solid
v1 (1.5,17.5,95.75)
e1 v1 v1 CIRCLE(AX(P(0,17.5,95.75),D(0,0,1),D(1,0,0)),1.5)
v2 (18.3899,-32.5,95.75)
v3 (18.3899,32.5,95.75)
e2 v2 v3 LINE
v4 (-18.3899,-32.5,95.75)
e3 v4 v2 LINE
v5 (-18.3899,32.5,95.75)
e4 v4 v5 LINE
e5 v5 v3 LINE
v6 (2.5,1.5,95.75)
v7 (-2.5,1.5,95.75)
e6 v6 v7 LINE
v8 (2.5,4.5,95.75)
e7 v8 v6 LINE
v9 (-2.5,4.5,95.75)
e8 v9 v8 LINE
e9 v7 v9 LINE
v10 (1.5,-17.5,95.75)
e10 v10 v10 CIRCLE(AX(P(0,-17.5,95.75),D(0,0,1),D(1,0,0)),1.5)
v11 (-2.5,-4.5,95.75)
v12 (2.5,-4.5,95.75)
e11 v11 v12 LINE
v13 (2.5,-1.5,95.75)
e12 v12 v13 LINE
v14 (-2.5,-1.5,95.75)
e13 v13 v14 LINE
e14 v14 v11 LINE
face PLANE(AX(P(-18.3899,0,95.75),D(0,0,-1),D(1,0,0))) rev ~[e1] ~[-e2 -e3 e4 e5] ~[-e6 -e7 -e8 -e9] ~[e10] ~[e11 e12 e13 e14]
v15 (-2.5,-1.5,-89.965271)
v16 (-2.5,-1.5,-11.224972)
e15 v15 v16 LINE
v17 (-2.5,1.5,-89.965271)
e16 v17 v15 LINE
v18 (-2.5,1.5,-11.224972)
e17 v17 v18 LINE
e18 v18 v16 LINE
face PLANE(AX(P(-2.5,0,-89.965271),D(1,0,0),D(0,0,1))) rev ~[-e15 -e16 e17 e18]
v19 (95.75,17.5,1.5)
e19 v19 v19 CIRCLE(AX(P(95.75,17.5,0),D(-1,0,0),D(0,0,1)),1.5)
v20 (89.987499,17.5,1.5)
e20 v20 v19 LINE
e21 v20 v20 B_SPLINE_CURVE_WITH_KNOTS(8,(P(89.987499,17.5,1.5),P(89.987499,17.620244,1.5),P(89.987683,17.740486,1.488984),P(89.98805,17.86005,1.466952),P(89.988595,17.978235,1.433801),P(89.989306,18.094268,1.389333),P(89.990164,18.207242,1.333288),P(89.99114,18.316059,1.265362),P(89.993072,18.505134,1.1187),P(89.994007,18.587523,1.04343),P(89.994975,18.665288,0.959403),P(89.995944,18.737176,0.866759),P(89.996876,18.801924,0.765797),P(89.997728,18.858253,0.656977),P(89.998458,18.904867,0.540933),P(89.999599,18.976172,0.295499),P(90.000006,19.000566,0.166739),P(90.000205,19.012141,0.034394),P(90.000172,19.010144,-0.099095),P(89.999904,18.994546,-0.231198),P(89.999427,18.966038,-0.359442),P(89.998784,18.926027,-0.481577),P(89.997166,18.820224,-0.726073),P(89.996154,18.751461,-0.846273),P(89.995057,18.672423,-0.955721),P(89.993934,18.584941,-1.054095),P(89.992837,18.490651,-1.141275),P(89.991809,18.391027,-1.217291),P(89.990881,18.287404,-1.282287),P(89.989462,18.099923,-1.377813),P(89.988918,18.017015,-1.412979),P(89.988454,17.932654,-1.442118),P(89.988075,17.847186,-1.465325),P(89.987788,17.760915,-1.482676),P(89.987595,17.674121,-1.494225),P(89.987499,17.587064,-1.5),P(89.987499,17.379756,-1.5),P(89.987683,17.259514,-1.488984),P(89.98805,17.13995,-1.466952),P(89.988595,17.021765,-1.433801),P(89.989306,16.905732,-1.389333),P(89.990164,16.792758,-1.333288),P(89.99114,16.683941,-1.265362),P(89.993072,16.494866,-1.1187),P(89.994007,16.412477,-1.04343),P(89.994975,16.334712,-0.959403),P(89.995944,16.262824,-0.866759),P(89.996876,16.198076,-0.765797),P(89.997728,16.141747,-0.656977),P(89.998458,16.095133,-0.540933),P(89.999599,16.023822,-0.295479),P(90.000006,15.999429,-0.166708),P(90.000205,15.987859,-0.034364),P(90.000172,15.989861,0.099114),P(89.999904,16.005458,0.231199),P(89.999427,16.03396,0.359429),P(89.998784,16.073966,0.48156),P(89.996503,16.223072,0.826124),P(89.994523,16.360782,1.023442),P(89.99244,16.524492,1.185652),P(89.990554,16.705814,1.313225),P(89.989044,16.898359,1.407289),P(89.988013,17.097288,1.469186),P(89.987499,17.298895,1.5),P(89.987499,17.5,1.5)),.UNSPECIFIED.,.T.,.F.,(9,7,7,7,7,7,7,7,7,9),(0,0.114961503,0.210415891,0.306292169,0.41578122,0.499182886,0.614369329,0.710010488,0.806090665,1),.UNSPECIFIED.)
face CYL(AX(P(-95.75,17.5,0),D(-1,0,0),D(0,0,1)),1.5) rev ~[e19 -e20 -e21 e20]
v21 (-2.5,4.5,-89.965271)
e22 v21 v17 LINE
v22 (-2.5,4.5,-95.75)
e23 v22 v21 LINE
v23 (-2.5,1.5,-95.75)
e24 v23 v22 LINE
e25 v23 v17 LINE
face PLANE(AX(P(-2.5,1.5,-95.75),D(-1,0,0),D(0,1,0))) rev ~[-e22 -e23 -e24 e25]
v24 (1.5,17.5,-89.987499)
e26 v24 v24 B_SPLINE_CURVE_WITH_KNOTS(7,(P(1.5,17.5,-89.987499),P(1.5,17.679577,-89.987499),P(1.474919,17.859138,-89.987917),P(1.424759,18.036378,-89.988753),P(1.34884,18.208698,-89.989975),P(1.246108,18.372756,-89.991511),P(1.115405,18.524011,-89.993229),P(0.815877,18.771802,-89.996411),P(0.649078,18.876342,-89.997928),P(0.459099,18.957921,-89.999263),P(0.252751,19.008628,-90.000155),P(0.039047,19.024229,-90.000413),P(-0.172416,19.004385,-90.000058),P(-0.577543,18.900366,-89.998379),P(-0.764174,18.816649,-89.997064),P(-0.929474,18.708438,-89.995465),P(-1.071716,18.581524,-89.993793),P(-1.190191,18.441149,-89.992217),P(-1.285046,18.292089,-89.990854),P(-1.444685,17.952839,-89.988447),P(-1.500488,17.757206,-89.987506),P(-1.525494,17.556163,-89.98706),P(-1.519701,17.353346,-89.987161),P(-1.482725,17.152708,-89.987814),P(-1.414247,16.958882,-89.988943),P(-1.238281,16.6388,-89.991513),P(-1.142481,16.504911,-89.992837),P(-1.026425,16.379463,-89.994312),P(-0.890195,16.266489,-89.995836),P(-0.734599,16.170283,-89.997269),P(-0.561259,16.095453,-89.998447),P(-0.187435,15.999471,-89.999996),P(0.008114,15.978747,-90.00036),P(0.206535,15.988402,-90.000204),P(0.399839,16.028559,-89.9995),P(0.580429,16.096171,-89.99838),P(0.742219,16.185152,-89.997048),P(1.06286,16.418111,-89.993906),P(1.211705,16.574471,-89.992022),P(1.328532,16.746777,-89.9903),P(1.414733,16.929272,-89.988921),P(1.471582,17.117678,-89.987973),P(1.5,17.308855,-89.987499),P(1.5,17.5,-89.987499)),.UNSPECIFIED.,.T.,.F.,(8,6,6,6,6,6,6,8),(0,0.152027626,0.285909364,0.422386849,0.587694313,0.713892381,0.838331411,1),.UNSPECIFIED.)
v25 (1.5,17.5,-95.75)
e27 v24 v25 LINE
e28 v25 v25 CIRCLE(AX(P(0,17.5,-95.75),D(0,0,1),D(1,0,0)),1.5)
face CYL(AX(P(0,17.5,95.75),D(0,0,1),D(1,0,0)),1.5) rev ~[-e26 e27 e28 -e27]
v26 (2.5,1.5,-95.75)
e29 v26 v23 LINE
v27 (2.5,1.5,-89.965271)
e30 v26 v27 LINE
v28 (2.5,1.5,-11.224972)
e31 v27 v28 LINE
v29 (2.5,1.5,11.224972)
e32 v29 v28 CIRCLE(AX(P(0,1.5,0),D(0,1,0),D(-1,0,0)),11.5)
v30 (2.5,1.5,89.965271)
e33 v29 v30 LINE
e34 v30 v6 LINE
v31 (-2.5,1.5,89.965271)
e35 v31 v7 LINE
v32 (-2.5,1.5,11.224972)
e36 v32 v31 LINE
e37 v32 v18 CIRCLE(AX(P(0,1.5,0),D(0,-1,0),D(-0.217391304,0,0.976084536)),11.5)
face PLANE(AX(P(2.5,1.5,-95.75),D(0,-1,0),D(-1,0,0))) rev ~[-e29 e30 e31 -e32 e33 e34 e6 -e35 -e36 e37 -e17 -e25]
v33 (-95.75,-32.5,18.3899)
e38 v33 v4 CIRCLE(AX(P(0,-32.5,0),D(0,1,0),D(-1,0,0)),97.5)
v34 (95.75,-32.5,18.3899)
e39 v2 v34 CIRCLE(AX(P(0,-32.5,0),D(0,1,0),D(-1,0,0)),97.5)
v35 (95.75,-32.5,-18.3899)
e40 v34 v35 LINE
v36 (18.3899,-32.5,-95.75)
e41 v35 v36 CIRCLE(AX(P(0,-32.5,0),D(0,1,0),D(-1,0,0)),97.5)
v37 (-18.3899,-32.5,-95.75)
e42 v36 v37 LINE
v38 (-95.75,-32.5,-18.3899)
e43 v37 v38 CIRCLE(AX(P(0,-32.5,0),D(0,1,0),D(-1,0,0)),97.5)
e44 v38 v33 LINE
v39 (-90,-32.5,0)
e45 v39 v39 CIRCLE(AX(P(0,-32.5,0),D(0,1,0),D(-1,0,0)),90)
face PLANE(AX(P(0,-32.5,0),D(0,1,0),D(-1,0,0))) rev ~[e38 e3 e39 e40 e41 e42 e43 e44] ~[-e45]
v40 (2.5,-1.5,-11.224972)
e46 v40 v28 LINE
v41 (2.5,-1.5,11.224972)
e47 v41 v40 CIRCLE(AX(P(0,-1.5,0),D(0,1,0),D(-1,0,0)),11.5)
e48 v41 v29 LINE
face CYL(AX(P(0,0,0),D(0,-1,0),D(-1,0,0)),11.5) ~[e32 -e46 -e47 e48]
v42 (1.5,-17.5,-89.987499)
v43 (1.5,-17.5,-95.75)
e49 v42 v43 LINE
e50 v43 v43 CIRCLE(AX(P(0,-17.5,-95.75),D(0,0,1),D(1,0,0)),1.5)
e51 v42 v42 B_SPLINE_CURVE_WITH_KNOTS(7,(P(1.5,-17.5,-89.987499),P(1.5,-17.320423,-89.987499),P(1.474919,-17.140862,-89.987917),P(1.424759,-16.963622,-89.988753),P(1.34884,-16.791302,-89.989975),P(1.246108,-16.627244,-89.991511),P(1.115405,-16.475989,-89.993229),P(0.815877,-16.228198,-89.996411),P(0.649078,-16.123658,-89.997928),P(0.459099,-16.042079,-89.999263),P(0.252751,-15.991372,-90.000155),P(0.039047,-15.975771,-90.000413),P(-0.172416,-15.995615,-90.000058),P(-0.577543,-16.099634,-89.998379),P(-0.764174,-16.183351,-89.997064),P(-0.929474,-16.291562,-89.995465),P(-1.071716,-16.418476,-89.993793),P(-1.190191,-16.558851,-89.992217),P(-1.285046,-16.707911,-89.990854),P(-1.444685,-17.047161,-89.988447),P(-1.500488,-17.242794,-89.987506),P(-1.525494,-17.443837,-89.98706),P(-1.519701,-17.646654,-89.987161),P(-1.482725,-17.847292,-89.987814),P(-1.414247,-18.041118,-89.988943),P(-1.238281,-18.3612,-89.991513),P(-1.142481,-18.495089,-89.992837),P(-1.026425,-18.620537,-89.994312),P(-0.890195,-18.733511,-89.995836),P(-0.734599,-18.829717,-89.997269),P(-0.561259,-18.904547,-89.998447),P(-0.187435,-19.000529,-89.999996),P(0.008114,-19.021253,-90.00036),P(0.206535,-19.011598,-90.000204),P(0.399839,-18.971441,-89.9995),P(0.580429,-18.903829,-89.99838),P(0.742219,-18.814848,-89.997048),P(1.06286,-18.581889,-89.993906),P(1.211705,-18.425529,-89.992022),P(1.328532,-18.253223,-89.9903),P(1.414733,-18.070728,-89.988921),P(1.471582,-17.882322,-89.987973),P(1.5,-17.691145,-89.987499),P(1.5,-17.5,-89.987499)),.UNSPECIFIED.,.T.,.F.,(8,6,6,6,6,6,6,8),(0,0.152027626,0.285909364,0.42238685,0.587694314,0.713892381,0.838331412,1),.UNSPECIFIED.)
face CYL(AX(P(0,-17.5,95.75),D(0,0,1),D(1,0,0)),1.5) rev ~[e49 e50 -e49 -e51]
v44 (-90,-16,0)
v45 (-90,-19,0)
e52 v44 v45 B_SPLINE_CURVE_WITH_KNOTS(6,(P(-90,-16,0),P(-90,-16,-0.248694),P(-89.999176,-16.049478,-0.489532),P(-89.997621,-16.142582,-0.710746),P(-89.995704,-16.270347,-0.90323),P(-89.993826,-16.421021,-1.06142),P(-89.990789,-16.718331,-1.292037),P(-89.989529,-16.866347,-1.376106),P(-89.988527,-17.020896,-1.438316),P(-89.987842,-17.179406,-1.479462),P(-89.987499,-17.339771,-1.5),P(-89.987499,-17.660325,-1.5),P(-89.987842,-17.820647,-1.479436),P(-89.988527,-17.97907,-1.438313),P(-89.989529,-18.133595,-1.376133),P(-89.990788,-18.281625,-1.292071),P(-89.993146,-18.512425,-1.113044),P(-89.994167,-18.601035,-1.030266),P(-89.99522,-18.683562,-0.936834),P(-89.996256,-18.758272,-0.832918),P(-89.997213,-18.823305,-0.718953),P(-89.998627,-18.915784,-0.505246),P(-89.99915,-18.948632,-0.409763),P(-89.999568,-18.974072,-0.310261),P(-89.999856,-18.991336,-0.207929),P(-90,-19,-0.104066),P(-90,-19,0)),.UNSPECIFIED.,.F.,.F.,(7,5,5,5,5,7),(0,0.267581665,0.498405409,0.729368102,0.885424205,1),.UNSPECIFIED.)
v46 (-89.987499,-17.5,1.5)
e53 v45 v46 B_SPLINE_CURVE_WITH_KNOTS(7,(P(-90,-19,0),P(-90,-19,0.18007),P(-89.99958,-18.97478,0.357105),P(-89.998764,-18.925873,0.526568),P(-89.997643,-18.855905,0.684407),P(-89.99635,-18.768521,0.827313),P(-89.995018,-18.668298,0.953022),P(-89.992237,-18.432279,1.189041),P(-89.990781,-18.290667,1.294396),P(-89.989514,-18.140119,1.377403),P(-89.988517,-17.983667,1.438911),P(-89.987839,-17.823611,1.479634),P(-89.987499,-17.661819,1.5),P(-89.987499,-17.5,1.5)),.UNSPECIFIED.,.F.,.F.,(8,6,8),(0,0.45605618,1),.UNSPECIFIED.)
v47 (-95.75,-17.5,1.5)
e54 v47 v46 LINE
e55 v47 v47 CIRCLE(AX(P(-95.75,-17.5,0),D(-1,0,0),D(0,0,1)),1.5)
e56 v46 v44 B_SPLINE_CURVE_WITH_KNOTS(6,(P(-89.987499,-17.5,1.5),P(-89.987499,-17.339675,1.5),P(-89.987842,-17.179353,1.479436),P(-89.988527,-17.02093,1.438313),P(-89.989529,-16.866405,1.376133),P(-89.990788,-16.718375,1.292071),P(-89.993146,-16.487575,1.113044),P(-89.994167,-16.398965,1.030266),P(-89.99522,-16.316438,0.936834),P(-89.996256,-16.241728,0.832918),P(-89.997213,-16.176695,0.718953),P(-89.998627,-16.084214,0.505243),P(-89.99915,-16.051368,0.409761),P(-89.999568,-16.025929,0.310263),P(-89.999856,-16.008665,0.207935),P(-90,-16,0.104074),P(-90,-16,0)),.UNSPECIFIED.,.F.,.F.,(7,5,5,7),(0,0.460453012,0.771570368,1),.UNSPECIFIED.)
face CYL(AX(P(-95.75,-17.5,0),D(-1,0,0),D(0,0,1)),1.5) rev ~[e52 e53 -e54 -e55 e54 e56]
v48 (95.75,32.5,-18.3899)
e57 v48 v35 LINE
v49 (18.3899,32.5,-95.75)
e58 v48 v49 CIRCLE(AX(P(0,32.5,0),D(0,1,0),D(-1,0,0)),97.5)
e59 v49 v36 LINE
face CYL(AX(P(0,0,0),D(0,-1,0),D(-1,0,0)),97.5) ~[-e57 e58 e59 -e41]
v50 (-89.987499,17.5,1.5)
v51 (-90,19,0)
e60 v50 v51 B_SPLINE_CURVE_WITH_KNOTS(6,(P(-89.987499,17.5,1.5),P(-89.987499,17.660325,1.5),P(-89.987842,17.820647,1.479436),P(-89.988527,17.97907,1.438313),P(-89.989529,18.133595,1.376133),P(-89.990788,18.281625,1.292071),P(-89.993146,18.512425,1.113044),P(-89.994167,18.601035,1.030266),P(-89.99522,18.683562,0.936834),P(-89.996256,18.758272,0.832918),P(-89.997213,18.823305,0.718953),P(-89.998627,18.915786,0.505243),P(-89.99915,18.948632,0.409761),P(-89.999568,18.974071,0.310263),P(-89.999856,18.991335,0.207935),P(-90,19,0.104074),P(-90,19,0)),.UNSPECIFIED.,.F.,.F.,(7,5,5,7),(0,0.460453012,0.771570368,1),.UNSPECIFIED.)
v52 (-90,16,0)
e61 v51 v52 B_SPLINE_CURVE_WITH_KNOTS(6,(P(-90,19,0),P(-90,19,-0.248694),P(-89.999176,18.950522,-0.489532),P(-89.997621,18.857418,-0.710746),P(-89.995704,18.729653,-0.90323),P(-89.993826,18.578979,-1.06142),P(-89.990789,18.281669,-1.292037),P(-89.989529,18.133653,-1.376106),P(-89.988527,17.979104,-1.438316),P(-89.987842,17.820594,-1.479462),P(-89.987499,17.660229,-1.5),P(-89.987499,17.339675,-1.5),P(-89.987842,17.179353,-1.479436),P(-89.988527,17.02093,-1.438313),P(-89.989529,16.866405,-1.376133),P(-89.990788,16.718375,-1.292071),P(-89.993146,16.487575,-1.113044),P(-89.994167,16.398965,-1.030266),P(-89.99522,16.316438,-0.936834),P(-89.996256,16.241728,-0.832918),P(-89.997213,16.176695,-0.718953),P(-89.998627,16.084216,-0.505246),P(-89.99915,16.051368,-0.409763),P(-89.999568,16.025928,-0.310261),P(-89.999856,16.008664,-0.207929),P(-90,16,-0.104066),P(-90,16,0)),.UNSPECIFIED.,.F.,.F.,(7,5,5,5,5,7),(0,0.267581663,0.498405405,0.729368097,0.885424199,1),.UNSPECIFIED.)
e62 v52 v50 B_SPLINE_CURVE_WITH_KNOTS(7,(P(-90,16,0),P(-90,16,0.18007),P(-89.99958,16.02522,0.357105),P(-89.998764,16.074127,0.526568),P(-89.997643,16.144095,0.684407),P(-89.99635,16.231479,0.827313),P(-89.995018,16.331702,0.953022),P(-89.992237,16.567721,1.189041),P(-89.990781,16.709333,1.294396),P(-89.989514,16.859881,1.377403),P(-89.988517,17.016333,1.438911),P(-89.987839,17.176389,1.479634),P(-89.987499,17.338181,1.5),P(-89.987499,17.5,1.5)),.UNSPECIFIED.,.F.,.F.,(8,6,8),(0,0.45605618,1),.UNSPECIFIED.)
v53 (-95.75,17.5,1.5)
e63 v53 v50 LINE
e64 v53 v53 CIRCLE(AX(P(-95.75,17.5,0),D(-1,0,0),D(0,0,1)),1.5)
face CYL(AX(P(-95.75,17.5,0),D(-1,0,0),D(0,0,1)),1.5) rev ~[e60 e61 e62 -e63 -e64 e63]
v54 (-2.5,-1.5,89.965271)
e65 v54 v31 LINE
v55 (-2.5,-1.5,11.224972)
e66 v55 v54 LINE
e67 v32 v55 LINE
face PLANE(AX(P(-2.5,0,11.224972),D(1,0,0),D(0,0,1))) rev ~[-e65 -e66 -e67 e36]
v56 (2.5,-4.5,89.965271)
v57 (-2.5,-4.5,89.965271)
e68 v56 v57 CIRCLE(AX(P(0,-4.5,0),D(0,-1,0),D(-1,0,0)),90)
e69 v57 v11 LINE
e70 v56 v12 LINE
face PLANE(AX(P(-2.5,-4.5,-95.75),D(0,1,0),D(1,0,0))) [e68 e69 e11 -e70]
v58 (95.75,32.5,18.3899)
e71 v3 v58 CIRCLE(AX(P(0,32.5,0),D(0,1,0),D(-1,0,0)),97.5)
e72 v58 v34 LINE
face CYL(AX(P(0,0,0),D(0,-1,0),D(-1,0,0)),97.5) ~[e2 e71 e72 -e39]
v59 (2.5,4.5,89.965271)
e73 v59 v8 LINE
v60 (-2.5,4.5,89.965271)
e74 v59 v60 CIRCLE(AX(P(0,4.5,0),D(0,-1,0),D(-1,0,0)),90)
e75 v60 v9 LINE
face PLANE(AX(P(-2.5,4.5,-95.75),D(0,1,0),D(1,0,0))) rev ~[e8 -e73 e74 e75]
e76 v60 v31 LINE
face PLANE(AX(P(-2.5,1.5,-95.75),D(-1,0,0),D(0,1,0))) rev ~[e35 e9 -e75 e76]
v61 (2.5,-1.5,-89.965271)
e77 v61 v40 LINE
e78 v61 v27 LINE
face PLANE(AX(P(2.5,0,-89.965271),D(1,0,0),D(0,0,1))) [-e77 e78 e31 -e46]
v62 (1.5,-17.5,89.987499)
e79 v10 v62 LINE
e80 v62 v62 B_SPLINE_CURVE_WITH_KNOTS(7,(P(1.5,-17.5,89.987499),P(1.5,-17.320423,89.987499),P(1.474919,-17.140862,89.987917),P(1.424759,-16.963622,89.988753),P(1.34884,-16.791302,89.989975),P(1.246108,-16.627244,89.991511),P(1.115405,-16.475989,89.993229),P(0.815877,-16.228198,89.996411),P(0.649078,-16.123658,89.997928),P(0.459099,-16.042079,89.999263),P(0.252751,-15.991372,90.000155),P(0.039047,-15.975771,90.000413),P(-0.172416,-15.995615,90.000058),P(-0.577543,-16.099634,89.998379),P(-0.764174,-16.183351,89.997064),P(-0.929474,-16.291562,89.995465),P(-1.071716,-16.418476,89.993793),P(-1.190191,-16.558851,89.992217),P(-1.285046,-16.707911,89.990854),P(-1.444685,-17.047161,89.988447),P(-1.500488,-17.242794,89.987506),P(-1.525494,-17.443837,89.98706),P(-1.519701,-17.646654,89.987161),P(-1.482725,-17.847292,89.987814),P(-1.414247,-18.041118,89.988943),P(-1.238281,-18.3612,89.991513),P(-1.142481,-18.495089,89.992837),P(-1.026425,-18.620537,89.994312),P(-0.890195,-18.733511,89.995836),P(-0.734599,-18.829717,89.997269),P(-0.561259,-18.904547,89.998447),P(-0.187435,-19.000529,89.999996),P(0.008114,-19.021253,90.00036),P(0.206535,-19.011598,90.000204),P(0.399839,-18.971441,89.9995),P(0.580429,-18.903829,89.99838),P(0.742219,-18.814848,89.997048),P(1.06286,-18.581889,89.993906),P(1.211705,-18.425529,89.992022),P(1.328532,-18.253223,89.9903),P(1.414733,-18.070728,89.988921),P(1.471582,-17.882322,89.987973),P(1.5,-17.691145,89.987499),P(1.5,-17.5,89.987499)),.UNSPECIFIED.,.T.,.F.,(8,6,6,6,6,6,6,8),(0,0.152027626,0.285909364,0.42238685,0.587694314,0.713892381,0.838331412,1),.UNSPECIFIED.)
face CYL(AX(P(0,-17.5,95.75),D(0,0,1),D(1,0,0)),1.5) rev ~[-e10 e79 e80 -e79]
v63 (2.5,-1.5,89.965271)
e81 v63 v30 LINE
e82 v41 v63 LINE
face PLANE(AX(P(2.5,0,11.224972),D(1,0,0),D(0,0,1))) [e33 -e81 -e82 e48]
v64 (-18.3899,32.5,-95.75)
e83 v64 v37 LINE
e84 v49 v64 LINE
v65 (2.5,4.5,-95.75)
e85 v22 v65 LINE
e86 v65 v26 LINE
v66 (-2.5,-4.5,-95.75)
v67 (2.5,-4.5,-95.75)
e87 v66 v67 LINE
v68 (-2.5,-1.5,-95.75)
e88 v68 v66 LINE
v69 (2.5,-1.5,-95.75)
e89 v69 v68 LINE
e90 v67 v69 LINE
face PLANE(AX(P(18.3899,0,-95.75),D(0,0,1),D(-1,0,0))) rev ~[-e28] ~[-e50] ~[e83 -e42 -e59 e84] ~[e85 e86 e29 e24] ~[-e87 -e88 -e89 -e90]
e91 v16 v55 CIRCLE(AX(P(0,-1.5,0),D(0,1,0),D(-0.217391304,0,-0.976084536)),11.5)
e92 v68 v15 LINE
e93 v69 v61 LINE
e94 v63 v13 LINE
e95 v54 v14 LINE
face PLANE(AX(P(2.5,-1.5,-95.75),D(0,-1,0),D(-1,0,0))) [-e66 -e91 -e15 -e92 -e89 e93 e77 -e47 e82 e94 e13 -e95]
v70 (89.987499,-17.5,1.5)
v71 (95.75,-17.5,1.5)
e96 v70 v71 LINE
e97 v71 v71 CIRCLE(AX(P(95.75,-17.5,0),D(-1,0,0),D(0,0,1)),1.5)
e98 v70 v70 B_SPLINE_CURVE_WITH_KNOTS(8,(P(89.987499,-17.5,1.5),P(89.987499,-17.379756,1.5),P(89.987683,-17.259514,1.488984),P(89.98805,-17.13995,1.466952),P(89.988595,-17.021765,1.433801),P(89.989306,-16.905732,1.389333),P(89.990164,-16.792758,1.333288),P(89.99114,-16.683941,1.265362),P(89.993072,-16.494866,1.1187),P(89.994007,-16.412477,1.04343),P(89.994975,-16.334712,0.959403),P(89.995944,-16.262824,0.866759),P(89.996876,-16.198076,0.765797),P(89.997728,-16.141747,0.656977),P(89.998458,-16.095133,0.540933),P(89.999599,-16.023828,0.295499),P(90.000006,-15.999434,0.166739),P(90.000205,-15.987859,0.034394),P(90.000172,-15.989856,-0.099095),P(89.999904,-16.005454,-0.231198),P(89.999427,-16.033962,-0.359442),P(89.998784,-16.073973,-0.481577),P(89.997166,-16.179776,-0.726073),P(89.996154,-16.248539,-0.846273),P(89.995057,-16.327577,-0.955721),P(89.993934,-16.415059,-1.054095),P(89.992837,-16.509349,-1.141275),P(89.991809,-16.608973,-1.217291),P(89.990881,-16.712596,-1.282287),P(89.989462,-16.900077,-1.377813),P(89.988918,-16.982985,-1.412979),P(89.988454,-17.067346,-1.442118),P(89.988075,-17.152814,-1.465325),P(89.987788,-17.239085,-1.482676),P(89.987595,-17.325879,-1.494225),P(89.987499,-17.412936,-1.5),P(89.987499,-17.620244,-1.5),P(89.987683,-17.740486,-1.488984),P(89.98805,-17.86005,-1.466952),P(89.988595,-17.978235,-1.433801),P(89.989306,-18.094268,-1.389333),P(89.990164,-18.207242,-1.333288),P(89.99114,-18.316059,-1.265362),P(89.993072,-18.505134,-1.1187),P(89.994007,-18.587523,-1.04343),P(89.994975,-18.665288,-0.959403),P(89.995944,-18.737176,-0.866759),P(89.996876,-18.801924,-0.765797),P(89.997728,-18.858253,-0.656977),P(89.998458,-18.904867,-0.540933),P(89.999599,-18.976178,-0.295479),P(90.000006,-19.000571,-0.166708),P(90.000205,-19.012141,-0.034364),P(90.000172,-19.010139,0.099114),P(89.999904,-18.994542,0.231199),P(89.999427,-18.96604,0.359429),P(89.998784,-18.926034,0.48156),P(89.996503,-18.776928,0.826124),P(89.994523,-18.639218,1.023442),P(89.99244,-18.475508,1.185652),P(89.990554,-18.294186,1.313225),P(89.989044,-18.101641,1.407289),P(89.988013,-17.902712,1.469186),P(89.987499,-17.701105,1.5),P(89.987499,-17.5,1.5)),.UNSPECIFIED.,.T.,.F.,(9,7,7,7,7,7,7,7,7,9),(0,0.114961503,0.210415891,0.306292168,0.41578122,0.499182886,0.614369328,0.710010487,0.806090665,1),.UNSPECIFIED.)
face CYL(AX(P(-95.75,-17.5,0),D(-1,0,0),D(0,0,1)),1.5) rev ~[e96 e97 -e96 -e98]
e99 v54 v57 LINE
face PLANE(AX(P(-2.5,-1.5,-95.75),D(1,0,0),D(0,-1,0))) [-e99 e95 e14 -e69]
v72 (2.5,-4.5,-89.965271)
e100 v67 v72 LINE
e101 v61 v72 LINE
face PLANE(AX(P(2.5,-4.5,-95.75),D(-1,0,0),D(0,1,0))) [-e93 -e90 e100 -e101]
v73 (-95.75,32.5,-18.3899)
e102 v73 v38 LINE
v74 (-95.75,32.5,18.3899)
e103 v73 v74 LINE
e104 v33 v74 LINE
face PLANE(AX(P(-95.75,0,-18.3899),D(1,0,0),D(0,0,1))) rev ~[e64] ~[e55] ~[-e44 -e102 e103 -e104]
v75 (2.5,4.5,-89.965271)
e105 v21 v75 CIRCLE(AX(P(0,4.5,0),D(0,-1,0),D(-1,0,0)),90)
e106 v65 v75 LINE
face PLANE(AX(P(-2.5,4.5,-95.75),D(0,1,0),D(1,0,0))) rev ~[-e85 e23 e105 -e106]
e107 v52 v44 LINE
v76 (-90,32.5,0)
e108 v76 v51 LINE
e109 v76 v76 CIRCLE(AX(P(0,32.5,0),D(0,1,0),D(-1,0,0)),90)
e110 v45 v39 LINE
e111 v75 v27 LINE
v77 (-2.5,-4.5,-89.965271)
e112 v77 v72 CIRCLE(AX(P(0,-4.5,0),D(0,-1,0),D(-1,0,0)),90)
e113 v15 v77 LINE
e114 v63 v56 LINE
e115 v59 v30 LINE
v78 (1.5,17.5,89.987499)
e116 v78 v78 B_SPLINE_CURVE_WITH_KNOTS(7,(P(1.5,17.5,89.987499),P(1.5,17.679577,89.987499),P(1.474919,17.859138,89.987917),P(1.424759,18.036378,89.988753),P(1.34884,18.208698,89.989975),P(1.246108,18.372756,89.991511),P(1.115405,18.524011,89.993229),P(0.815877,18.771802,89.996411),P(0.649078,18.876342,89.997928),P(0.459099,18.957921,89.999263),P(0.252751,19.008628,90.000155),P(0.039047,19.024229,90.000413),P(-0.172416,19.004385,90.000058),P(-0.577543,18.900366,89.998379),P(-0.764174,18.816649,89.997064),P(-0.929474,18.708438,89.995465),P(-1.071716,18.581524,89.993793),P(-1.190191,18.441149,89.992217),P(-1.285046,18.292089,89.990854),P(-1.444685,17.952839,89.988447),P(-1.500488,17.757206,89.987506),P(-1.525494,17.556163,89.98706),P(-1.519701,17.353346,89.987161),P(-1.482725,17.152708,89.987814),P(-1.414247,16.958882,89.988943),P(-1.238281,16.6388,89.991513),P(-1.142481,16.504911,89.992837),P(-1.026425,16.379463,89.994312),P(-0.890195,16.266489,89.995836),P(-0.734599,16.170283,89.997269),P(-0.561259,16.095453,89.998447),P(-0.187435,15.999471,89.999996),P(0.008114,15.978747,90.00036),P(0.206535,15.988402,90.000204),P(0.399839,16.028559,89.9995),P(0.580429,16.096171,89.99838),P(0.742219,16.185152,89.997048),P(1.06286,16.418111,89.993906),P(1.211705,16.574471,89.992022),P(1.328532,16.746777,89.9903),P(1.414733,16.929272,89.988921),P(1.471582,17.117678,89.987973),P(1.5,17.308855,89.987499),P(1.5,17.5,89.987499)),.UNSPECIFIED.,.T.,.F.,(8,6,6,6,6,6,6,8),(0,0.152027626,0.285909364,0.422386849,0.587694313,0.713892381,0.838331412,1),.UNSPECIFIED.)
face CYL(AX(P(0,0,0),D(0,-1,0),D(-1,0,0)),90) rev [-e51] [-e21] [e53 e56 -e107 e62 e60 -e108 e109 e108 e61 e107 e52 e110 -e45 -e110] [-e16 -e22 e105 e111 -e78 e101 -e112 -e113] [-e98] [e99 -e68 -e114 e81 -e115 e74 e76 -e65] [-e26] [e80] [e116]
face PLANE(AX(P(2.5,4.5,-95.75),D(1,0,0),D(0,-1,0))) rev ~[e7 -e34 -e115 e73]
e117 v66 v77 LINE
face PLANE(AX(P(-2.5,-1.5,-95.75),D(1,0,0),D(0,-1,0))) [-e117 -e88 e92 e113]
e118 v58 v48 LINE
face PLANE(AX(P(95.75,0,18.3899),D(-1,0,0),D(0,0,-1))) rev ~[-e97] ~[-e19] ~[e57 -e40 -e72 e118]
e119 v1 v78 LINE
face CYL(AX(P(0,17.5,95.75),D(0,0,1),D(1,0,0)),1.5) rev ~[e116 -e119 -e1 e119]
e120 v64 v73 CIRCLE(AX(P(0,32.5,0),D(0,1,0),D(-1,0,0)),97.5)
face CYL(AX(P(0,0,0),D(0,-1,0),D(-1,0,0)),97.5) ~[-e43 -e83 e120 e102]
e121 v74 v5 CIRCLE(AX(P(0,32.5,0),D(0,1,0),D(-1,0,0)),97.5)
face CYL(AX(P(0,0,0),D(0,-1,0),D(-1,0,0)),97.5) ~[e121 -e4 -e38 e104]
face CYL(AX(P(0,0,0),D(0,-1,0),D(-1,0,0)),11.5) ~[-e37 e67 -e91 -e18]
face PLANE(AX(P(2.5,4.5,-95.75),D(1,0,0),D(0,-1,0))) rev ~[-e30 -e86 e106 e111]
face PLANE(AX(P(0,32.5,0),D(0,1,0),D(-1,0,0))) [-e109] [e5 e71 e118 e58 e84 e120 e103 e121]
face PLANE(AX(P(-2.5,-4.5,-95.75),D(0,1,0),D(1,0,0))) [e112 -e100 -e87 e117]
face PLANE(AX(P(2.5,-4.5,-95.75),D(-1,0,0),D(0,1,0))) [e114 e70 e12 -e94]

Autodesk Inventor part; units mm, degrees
ref_plane "YZ Plane" through (0, 0, 0) normal (1, 0, 0) x (0, 1, 0)
ref_plane "XZ Plane" through (0, 0, 0) normal (0, 1, 0) x (-1, 0, 0)
ref_plane "XY Plane" through (0, 0, 0) normal (0, 0, 1) x (1, 0, 0)
sketch "okrąg" plane through (0, 0, 0) normal (0, 1, 0) x (-1, 0, 0)
  circle A0 centre (0, 0) radius 90
  circle A1 centre (0, 0) radius 97.5
  line L0 (0, 0) -> (0, -95.75) construction
  line L1 (-18.3899, -95.75) -> (18.3899, -95.75)
  line L2 (0, 0) -> (95.75, 0) construction
  line L3 (95.75, -18.3899) -> (95.75, 18.3899)
  line L4 (0, 0) -> (0, 95.75) construction
  line L5 (18.3899, 95.75) -> (-18.3899, 95.75)
  line L6 (0, 0) -> (-95.75, 0) construction
  line L7 (-95.75, 18.3899) -> (-95.75, -18.3899)
  point P0 (-95.75, 18.3899)
  point P1 (-95.75, -18.3899)
  point P2 (-18.3899, -95.75)
  point P3 (95.75, -18.3899)
  point P4 (95.75, 18.3899)
  point P5 (18.3899, 95.75)
  point P6 (-18.3899, 95.75)
  dimension "d1" = 195
  dimension "d0" = 180
  dimension "d2" = 95.75
  dimension "d5" = 360
extrude "Wyciągnięcie proste1" add sketch "okrąg" along normal mid plane 65 contours L3 A1 L1 L7 L5
sketch "podpora" plane through (0, 0, 0) normal (0, 1, 0) x (-1, 0, 0)
  circle A0 centre (0, 0) radius 90
  line L0 (2.5, 0) -> (-2.5, 0) construction
  line L1 (-2.5, -90) -> (-2.5, 90)
  line L2 (2.5, -90) -> (2.5, 90)
  circle A1 centre (0, 0) radius 11.5
  point P0 (-2.5, -11.225)
  point P1 (-2.5, -89.9653)
  point P2 (2.5, -89.9653)
  point P3 (2.5, -11.225)
  point P4 (2.5, 11.225)
  point P5 (2.5, 89.9653)
  point P6 (-2.5, 89.9653)
  point P7 (-2.5, 11.225)
  dimension "d12" = 180
  dimension "d13" = 5
  dimension "d14" = 180
  dimension "d15" = 180
  dimension "d16" = 23
extrude "Wyciągnięcie proste2" add sketch "podpora" along normal mid plane 3 contours L2 A1 L1 A0 | A0 L1 A1 L2 | A1 L2 | L2 A1 L1 | L1 A1
sketch "Szkic5" plane through (-18.3899, 32.5, 95.75) normal (0, 0, 1) x (1, 0, 0)
  line L0 (0, 0) -> (18.3899, 0) construction
  line L1 (18.3899, 0) -> (18.3899, -15) construction
  line L2 (18.3899, -15) -> (18.3899, -50) construction
  circle A0 centre (18.3899, -15) radius 1.5
  circle A1 centre (18.3899, -50) radius 1.5
  point P0 (18.3899, -32.5)
  dimension "d28" = 18.3899
  dimension "d32" = 32.5
  dimension "d33" = 32.5
  dimension "d34" = 15
  dimension "d35" = 35
  dimension "d36" = 3
  dimension "d37" = 3
extrude "Wyciągnięcie proste4" cut sketch "Szkic5" against normal through all
sketch "Szkic6" plane through (-95.75, -32.5, 18.3899) normal (-1, 0, 0) x (0, 0, 1)
  line L0 (-18.3899, 32.5) -> (-18.3899, 50) construction
  line L1 (-18.3899, 32.5) -> (-18.3899, 15) construction
  circle A0 centre (-18.3899, 15) radius 1.5
  circle A1 centre (-18.3899, 50) radius 1.5
  dimension "d40" = 17.5
  dimension "d41" = 17.5
  dimension "d42" = 3
  dimension "d43" = 3
extrude "Wyciągnięcie proste5" cut sketch "Szkic6" against normal through all
sketch "Szkic7" plane through (18.3899, 32.5, -95.75) normal (0, 0, -1) x (-1, 0, 0)
  line L0 (18.3899, -31) -> (18.3899, -34) construction
  line L1 (15.8899, -31) -> (20.8899, -31)
  line L2 (20.8899, -31) -> (20.8899, -28)
  line L3 (20.8899, -28) -> (15.8899, -28)
  line L4 (15.8899, -28) -> (15.8899, -31)
  line L5 (15.8899, -34) -> (20.8899, -34)
  line L6 (20.8899, -34) -> (20.8899, -37)
  line L7 (20.8899, -37) -> (15.8899, -37)
  line L8 (15.8899, -37) -> (15.8899, -34)
  point P0 (18.3899, -32.5)
  dimension "d46" = 3
  dimension "d47" = 5
  dimension "d48" = 3
  dimension "d49" = 3
  dimension "d50" = 5
extrude "Wyciągnięcie proste6" cut sketch "Szkic7" against normal through all
equation "\"d12\" = d0"
equation "\"d14\" = d0"
equation "\"d15\" = d0"
properties part number "001-001"
